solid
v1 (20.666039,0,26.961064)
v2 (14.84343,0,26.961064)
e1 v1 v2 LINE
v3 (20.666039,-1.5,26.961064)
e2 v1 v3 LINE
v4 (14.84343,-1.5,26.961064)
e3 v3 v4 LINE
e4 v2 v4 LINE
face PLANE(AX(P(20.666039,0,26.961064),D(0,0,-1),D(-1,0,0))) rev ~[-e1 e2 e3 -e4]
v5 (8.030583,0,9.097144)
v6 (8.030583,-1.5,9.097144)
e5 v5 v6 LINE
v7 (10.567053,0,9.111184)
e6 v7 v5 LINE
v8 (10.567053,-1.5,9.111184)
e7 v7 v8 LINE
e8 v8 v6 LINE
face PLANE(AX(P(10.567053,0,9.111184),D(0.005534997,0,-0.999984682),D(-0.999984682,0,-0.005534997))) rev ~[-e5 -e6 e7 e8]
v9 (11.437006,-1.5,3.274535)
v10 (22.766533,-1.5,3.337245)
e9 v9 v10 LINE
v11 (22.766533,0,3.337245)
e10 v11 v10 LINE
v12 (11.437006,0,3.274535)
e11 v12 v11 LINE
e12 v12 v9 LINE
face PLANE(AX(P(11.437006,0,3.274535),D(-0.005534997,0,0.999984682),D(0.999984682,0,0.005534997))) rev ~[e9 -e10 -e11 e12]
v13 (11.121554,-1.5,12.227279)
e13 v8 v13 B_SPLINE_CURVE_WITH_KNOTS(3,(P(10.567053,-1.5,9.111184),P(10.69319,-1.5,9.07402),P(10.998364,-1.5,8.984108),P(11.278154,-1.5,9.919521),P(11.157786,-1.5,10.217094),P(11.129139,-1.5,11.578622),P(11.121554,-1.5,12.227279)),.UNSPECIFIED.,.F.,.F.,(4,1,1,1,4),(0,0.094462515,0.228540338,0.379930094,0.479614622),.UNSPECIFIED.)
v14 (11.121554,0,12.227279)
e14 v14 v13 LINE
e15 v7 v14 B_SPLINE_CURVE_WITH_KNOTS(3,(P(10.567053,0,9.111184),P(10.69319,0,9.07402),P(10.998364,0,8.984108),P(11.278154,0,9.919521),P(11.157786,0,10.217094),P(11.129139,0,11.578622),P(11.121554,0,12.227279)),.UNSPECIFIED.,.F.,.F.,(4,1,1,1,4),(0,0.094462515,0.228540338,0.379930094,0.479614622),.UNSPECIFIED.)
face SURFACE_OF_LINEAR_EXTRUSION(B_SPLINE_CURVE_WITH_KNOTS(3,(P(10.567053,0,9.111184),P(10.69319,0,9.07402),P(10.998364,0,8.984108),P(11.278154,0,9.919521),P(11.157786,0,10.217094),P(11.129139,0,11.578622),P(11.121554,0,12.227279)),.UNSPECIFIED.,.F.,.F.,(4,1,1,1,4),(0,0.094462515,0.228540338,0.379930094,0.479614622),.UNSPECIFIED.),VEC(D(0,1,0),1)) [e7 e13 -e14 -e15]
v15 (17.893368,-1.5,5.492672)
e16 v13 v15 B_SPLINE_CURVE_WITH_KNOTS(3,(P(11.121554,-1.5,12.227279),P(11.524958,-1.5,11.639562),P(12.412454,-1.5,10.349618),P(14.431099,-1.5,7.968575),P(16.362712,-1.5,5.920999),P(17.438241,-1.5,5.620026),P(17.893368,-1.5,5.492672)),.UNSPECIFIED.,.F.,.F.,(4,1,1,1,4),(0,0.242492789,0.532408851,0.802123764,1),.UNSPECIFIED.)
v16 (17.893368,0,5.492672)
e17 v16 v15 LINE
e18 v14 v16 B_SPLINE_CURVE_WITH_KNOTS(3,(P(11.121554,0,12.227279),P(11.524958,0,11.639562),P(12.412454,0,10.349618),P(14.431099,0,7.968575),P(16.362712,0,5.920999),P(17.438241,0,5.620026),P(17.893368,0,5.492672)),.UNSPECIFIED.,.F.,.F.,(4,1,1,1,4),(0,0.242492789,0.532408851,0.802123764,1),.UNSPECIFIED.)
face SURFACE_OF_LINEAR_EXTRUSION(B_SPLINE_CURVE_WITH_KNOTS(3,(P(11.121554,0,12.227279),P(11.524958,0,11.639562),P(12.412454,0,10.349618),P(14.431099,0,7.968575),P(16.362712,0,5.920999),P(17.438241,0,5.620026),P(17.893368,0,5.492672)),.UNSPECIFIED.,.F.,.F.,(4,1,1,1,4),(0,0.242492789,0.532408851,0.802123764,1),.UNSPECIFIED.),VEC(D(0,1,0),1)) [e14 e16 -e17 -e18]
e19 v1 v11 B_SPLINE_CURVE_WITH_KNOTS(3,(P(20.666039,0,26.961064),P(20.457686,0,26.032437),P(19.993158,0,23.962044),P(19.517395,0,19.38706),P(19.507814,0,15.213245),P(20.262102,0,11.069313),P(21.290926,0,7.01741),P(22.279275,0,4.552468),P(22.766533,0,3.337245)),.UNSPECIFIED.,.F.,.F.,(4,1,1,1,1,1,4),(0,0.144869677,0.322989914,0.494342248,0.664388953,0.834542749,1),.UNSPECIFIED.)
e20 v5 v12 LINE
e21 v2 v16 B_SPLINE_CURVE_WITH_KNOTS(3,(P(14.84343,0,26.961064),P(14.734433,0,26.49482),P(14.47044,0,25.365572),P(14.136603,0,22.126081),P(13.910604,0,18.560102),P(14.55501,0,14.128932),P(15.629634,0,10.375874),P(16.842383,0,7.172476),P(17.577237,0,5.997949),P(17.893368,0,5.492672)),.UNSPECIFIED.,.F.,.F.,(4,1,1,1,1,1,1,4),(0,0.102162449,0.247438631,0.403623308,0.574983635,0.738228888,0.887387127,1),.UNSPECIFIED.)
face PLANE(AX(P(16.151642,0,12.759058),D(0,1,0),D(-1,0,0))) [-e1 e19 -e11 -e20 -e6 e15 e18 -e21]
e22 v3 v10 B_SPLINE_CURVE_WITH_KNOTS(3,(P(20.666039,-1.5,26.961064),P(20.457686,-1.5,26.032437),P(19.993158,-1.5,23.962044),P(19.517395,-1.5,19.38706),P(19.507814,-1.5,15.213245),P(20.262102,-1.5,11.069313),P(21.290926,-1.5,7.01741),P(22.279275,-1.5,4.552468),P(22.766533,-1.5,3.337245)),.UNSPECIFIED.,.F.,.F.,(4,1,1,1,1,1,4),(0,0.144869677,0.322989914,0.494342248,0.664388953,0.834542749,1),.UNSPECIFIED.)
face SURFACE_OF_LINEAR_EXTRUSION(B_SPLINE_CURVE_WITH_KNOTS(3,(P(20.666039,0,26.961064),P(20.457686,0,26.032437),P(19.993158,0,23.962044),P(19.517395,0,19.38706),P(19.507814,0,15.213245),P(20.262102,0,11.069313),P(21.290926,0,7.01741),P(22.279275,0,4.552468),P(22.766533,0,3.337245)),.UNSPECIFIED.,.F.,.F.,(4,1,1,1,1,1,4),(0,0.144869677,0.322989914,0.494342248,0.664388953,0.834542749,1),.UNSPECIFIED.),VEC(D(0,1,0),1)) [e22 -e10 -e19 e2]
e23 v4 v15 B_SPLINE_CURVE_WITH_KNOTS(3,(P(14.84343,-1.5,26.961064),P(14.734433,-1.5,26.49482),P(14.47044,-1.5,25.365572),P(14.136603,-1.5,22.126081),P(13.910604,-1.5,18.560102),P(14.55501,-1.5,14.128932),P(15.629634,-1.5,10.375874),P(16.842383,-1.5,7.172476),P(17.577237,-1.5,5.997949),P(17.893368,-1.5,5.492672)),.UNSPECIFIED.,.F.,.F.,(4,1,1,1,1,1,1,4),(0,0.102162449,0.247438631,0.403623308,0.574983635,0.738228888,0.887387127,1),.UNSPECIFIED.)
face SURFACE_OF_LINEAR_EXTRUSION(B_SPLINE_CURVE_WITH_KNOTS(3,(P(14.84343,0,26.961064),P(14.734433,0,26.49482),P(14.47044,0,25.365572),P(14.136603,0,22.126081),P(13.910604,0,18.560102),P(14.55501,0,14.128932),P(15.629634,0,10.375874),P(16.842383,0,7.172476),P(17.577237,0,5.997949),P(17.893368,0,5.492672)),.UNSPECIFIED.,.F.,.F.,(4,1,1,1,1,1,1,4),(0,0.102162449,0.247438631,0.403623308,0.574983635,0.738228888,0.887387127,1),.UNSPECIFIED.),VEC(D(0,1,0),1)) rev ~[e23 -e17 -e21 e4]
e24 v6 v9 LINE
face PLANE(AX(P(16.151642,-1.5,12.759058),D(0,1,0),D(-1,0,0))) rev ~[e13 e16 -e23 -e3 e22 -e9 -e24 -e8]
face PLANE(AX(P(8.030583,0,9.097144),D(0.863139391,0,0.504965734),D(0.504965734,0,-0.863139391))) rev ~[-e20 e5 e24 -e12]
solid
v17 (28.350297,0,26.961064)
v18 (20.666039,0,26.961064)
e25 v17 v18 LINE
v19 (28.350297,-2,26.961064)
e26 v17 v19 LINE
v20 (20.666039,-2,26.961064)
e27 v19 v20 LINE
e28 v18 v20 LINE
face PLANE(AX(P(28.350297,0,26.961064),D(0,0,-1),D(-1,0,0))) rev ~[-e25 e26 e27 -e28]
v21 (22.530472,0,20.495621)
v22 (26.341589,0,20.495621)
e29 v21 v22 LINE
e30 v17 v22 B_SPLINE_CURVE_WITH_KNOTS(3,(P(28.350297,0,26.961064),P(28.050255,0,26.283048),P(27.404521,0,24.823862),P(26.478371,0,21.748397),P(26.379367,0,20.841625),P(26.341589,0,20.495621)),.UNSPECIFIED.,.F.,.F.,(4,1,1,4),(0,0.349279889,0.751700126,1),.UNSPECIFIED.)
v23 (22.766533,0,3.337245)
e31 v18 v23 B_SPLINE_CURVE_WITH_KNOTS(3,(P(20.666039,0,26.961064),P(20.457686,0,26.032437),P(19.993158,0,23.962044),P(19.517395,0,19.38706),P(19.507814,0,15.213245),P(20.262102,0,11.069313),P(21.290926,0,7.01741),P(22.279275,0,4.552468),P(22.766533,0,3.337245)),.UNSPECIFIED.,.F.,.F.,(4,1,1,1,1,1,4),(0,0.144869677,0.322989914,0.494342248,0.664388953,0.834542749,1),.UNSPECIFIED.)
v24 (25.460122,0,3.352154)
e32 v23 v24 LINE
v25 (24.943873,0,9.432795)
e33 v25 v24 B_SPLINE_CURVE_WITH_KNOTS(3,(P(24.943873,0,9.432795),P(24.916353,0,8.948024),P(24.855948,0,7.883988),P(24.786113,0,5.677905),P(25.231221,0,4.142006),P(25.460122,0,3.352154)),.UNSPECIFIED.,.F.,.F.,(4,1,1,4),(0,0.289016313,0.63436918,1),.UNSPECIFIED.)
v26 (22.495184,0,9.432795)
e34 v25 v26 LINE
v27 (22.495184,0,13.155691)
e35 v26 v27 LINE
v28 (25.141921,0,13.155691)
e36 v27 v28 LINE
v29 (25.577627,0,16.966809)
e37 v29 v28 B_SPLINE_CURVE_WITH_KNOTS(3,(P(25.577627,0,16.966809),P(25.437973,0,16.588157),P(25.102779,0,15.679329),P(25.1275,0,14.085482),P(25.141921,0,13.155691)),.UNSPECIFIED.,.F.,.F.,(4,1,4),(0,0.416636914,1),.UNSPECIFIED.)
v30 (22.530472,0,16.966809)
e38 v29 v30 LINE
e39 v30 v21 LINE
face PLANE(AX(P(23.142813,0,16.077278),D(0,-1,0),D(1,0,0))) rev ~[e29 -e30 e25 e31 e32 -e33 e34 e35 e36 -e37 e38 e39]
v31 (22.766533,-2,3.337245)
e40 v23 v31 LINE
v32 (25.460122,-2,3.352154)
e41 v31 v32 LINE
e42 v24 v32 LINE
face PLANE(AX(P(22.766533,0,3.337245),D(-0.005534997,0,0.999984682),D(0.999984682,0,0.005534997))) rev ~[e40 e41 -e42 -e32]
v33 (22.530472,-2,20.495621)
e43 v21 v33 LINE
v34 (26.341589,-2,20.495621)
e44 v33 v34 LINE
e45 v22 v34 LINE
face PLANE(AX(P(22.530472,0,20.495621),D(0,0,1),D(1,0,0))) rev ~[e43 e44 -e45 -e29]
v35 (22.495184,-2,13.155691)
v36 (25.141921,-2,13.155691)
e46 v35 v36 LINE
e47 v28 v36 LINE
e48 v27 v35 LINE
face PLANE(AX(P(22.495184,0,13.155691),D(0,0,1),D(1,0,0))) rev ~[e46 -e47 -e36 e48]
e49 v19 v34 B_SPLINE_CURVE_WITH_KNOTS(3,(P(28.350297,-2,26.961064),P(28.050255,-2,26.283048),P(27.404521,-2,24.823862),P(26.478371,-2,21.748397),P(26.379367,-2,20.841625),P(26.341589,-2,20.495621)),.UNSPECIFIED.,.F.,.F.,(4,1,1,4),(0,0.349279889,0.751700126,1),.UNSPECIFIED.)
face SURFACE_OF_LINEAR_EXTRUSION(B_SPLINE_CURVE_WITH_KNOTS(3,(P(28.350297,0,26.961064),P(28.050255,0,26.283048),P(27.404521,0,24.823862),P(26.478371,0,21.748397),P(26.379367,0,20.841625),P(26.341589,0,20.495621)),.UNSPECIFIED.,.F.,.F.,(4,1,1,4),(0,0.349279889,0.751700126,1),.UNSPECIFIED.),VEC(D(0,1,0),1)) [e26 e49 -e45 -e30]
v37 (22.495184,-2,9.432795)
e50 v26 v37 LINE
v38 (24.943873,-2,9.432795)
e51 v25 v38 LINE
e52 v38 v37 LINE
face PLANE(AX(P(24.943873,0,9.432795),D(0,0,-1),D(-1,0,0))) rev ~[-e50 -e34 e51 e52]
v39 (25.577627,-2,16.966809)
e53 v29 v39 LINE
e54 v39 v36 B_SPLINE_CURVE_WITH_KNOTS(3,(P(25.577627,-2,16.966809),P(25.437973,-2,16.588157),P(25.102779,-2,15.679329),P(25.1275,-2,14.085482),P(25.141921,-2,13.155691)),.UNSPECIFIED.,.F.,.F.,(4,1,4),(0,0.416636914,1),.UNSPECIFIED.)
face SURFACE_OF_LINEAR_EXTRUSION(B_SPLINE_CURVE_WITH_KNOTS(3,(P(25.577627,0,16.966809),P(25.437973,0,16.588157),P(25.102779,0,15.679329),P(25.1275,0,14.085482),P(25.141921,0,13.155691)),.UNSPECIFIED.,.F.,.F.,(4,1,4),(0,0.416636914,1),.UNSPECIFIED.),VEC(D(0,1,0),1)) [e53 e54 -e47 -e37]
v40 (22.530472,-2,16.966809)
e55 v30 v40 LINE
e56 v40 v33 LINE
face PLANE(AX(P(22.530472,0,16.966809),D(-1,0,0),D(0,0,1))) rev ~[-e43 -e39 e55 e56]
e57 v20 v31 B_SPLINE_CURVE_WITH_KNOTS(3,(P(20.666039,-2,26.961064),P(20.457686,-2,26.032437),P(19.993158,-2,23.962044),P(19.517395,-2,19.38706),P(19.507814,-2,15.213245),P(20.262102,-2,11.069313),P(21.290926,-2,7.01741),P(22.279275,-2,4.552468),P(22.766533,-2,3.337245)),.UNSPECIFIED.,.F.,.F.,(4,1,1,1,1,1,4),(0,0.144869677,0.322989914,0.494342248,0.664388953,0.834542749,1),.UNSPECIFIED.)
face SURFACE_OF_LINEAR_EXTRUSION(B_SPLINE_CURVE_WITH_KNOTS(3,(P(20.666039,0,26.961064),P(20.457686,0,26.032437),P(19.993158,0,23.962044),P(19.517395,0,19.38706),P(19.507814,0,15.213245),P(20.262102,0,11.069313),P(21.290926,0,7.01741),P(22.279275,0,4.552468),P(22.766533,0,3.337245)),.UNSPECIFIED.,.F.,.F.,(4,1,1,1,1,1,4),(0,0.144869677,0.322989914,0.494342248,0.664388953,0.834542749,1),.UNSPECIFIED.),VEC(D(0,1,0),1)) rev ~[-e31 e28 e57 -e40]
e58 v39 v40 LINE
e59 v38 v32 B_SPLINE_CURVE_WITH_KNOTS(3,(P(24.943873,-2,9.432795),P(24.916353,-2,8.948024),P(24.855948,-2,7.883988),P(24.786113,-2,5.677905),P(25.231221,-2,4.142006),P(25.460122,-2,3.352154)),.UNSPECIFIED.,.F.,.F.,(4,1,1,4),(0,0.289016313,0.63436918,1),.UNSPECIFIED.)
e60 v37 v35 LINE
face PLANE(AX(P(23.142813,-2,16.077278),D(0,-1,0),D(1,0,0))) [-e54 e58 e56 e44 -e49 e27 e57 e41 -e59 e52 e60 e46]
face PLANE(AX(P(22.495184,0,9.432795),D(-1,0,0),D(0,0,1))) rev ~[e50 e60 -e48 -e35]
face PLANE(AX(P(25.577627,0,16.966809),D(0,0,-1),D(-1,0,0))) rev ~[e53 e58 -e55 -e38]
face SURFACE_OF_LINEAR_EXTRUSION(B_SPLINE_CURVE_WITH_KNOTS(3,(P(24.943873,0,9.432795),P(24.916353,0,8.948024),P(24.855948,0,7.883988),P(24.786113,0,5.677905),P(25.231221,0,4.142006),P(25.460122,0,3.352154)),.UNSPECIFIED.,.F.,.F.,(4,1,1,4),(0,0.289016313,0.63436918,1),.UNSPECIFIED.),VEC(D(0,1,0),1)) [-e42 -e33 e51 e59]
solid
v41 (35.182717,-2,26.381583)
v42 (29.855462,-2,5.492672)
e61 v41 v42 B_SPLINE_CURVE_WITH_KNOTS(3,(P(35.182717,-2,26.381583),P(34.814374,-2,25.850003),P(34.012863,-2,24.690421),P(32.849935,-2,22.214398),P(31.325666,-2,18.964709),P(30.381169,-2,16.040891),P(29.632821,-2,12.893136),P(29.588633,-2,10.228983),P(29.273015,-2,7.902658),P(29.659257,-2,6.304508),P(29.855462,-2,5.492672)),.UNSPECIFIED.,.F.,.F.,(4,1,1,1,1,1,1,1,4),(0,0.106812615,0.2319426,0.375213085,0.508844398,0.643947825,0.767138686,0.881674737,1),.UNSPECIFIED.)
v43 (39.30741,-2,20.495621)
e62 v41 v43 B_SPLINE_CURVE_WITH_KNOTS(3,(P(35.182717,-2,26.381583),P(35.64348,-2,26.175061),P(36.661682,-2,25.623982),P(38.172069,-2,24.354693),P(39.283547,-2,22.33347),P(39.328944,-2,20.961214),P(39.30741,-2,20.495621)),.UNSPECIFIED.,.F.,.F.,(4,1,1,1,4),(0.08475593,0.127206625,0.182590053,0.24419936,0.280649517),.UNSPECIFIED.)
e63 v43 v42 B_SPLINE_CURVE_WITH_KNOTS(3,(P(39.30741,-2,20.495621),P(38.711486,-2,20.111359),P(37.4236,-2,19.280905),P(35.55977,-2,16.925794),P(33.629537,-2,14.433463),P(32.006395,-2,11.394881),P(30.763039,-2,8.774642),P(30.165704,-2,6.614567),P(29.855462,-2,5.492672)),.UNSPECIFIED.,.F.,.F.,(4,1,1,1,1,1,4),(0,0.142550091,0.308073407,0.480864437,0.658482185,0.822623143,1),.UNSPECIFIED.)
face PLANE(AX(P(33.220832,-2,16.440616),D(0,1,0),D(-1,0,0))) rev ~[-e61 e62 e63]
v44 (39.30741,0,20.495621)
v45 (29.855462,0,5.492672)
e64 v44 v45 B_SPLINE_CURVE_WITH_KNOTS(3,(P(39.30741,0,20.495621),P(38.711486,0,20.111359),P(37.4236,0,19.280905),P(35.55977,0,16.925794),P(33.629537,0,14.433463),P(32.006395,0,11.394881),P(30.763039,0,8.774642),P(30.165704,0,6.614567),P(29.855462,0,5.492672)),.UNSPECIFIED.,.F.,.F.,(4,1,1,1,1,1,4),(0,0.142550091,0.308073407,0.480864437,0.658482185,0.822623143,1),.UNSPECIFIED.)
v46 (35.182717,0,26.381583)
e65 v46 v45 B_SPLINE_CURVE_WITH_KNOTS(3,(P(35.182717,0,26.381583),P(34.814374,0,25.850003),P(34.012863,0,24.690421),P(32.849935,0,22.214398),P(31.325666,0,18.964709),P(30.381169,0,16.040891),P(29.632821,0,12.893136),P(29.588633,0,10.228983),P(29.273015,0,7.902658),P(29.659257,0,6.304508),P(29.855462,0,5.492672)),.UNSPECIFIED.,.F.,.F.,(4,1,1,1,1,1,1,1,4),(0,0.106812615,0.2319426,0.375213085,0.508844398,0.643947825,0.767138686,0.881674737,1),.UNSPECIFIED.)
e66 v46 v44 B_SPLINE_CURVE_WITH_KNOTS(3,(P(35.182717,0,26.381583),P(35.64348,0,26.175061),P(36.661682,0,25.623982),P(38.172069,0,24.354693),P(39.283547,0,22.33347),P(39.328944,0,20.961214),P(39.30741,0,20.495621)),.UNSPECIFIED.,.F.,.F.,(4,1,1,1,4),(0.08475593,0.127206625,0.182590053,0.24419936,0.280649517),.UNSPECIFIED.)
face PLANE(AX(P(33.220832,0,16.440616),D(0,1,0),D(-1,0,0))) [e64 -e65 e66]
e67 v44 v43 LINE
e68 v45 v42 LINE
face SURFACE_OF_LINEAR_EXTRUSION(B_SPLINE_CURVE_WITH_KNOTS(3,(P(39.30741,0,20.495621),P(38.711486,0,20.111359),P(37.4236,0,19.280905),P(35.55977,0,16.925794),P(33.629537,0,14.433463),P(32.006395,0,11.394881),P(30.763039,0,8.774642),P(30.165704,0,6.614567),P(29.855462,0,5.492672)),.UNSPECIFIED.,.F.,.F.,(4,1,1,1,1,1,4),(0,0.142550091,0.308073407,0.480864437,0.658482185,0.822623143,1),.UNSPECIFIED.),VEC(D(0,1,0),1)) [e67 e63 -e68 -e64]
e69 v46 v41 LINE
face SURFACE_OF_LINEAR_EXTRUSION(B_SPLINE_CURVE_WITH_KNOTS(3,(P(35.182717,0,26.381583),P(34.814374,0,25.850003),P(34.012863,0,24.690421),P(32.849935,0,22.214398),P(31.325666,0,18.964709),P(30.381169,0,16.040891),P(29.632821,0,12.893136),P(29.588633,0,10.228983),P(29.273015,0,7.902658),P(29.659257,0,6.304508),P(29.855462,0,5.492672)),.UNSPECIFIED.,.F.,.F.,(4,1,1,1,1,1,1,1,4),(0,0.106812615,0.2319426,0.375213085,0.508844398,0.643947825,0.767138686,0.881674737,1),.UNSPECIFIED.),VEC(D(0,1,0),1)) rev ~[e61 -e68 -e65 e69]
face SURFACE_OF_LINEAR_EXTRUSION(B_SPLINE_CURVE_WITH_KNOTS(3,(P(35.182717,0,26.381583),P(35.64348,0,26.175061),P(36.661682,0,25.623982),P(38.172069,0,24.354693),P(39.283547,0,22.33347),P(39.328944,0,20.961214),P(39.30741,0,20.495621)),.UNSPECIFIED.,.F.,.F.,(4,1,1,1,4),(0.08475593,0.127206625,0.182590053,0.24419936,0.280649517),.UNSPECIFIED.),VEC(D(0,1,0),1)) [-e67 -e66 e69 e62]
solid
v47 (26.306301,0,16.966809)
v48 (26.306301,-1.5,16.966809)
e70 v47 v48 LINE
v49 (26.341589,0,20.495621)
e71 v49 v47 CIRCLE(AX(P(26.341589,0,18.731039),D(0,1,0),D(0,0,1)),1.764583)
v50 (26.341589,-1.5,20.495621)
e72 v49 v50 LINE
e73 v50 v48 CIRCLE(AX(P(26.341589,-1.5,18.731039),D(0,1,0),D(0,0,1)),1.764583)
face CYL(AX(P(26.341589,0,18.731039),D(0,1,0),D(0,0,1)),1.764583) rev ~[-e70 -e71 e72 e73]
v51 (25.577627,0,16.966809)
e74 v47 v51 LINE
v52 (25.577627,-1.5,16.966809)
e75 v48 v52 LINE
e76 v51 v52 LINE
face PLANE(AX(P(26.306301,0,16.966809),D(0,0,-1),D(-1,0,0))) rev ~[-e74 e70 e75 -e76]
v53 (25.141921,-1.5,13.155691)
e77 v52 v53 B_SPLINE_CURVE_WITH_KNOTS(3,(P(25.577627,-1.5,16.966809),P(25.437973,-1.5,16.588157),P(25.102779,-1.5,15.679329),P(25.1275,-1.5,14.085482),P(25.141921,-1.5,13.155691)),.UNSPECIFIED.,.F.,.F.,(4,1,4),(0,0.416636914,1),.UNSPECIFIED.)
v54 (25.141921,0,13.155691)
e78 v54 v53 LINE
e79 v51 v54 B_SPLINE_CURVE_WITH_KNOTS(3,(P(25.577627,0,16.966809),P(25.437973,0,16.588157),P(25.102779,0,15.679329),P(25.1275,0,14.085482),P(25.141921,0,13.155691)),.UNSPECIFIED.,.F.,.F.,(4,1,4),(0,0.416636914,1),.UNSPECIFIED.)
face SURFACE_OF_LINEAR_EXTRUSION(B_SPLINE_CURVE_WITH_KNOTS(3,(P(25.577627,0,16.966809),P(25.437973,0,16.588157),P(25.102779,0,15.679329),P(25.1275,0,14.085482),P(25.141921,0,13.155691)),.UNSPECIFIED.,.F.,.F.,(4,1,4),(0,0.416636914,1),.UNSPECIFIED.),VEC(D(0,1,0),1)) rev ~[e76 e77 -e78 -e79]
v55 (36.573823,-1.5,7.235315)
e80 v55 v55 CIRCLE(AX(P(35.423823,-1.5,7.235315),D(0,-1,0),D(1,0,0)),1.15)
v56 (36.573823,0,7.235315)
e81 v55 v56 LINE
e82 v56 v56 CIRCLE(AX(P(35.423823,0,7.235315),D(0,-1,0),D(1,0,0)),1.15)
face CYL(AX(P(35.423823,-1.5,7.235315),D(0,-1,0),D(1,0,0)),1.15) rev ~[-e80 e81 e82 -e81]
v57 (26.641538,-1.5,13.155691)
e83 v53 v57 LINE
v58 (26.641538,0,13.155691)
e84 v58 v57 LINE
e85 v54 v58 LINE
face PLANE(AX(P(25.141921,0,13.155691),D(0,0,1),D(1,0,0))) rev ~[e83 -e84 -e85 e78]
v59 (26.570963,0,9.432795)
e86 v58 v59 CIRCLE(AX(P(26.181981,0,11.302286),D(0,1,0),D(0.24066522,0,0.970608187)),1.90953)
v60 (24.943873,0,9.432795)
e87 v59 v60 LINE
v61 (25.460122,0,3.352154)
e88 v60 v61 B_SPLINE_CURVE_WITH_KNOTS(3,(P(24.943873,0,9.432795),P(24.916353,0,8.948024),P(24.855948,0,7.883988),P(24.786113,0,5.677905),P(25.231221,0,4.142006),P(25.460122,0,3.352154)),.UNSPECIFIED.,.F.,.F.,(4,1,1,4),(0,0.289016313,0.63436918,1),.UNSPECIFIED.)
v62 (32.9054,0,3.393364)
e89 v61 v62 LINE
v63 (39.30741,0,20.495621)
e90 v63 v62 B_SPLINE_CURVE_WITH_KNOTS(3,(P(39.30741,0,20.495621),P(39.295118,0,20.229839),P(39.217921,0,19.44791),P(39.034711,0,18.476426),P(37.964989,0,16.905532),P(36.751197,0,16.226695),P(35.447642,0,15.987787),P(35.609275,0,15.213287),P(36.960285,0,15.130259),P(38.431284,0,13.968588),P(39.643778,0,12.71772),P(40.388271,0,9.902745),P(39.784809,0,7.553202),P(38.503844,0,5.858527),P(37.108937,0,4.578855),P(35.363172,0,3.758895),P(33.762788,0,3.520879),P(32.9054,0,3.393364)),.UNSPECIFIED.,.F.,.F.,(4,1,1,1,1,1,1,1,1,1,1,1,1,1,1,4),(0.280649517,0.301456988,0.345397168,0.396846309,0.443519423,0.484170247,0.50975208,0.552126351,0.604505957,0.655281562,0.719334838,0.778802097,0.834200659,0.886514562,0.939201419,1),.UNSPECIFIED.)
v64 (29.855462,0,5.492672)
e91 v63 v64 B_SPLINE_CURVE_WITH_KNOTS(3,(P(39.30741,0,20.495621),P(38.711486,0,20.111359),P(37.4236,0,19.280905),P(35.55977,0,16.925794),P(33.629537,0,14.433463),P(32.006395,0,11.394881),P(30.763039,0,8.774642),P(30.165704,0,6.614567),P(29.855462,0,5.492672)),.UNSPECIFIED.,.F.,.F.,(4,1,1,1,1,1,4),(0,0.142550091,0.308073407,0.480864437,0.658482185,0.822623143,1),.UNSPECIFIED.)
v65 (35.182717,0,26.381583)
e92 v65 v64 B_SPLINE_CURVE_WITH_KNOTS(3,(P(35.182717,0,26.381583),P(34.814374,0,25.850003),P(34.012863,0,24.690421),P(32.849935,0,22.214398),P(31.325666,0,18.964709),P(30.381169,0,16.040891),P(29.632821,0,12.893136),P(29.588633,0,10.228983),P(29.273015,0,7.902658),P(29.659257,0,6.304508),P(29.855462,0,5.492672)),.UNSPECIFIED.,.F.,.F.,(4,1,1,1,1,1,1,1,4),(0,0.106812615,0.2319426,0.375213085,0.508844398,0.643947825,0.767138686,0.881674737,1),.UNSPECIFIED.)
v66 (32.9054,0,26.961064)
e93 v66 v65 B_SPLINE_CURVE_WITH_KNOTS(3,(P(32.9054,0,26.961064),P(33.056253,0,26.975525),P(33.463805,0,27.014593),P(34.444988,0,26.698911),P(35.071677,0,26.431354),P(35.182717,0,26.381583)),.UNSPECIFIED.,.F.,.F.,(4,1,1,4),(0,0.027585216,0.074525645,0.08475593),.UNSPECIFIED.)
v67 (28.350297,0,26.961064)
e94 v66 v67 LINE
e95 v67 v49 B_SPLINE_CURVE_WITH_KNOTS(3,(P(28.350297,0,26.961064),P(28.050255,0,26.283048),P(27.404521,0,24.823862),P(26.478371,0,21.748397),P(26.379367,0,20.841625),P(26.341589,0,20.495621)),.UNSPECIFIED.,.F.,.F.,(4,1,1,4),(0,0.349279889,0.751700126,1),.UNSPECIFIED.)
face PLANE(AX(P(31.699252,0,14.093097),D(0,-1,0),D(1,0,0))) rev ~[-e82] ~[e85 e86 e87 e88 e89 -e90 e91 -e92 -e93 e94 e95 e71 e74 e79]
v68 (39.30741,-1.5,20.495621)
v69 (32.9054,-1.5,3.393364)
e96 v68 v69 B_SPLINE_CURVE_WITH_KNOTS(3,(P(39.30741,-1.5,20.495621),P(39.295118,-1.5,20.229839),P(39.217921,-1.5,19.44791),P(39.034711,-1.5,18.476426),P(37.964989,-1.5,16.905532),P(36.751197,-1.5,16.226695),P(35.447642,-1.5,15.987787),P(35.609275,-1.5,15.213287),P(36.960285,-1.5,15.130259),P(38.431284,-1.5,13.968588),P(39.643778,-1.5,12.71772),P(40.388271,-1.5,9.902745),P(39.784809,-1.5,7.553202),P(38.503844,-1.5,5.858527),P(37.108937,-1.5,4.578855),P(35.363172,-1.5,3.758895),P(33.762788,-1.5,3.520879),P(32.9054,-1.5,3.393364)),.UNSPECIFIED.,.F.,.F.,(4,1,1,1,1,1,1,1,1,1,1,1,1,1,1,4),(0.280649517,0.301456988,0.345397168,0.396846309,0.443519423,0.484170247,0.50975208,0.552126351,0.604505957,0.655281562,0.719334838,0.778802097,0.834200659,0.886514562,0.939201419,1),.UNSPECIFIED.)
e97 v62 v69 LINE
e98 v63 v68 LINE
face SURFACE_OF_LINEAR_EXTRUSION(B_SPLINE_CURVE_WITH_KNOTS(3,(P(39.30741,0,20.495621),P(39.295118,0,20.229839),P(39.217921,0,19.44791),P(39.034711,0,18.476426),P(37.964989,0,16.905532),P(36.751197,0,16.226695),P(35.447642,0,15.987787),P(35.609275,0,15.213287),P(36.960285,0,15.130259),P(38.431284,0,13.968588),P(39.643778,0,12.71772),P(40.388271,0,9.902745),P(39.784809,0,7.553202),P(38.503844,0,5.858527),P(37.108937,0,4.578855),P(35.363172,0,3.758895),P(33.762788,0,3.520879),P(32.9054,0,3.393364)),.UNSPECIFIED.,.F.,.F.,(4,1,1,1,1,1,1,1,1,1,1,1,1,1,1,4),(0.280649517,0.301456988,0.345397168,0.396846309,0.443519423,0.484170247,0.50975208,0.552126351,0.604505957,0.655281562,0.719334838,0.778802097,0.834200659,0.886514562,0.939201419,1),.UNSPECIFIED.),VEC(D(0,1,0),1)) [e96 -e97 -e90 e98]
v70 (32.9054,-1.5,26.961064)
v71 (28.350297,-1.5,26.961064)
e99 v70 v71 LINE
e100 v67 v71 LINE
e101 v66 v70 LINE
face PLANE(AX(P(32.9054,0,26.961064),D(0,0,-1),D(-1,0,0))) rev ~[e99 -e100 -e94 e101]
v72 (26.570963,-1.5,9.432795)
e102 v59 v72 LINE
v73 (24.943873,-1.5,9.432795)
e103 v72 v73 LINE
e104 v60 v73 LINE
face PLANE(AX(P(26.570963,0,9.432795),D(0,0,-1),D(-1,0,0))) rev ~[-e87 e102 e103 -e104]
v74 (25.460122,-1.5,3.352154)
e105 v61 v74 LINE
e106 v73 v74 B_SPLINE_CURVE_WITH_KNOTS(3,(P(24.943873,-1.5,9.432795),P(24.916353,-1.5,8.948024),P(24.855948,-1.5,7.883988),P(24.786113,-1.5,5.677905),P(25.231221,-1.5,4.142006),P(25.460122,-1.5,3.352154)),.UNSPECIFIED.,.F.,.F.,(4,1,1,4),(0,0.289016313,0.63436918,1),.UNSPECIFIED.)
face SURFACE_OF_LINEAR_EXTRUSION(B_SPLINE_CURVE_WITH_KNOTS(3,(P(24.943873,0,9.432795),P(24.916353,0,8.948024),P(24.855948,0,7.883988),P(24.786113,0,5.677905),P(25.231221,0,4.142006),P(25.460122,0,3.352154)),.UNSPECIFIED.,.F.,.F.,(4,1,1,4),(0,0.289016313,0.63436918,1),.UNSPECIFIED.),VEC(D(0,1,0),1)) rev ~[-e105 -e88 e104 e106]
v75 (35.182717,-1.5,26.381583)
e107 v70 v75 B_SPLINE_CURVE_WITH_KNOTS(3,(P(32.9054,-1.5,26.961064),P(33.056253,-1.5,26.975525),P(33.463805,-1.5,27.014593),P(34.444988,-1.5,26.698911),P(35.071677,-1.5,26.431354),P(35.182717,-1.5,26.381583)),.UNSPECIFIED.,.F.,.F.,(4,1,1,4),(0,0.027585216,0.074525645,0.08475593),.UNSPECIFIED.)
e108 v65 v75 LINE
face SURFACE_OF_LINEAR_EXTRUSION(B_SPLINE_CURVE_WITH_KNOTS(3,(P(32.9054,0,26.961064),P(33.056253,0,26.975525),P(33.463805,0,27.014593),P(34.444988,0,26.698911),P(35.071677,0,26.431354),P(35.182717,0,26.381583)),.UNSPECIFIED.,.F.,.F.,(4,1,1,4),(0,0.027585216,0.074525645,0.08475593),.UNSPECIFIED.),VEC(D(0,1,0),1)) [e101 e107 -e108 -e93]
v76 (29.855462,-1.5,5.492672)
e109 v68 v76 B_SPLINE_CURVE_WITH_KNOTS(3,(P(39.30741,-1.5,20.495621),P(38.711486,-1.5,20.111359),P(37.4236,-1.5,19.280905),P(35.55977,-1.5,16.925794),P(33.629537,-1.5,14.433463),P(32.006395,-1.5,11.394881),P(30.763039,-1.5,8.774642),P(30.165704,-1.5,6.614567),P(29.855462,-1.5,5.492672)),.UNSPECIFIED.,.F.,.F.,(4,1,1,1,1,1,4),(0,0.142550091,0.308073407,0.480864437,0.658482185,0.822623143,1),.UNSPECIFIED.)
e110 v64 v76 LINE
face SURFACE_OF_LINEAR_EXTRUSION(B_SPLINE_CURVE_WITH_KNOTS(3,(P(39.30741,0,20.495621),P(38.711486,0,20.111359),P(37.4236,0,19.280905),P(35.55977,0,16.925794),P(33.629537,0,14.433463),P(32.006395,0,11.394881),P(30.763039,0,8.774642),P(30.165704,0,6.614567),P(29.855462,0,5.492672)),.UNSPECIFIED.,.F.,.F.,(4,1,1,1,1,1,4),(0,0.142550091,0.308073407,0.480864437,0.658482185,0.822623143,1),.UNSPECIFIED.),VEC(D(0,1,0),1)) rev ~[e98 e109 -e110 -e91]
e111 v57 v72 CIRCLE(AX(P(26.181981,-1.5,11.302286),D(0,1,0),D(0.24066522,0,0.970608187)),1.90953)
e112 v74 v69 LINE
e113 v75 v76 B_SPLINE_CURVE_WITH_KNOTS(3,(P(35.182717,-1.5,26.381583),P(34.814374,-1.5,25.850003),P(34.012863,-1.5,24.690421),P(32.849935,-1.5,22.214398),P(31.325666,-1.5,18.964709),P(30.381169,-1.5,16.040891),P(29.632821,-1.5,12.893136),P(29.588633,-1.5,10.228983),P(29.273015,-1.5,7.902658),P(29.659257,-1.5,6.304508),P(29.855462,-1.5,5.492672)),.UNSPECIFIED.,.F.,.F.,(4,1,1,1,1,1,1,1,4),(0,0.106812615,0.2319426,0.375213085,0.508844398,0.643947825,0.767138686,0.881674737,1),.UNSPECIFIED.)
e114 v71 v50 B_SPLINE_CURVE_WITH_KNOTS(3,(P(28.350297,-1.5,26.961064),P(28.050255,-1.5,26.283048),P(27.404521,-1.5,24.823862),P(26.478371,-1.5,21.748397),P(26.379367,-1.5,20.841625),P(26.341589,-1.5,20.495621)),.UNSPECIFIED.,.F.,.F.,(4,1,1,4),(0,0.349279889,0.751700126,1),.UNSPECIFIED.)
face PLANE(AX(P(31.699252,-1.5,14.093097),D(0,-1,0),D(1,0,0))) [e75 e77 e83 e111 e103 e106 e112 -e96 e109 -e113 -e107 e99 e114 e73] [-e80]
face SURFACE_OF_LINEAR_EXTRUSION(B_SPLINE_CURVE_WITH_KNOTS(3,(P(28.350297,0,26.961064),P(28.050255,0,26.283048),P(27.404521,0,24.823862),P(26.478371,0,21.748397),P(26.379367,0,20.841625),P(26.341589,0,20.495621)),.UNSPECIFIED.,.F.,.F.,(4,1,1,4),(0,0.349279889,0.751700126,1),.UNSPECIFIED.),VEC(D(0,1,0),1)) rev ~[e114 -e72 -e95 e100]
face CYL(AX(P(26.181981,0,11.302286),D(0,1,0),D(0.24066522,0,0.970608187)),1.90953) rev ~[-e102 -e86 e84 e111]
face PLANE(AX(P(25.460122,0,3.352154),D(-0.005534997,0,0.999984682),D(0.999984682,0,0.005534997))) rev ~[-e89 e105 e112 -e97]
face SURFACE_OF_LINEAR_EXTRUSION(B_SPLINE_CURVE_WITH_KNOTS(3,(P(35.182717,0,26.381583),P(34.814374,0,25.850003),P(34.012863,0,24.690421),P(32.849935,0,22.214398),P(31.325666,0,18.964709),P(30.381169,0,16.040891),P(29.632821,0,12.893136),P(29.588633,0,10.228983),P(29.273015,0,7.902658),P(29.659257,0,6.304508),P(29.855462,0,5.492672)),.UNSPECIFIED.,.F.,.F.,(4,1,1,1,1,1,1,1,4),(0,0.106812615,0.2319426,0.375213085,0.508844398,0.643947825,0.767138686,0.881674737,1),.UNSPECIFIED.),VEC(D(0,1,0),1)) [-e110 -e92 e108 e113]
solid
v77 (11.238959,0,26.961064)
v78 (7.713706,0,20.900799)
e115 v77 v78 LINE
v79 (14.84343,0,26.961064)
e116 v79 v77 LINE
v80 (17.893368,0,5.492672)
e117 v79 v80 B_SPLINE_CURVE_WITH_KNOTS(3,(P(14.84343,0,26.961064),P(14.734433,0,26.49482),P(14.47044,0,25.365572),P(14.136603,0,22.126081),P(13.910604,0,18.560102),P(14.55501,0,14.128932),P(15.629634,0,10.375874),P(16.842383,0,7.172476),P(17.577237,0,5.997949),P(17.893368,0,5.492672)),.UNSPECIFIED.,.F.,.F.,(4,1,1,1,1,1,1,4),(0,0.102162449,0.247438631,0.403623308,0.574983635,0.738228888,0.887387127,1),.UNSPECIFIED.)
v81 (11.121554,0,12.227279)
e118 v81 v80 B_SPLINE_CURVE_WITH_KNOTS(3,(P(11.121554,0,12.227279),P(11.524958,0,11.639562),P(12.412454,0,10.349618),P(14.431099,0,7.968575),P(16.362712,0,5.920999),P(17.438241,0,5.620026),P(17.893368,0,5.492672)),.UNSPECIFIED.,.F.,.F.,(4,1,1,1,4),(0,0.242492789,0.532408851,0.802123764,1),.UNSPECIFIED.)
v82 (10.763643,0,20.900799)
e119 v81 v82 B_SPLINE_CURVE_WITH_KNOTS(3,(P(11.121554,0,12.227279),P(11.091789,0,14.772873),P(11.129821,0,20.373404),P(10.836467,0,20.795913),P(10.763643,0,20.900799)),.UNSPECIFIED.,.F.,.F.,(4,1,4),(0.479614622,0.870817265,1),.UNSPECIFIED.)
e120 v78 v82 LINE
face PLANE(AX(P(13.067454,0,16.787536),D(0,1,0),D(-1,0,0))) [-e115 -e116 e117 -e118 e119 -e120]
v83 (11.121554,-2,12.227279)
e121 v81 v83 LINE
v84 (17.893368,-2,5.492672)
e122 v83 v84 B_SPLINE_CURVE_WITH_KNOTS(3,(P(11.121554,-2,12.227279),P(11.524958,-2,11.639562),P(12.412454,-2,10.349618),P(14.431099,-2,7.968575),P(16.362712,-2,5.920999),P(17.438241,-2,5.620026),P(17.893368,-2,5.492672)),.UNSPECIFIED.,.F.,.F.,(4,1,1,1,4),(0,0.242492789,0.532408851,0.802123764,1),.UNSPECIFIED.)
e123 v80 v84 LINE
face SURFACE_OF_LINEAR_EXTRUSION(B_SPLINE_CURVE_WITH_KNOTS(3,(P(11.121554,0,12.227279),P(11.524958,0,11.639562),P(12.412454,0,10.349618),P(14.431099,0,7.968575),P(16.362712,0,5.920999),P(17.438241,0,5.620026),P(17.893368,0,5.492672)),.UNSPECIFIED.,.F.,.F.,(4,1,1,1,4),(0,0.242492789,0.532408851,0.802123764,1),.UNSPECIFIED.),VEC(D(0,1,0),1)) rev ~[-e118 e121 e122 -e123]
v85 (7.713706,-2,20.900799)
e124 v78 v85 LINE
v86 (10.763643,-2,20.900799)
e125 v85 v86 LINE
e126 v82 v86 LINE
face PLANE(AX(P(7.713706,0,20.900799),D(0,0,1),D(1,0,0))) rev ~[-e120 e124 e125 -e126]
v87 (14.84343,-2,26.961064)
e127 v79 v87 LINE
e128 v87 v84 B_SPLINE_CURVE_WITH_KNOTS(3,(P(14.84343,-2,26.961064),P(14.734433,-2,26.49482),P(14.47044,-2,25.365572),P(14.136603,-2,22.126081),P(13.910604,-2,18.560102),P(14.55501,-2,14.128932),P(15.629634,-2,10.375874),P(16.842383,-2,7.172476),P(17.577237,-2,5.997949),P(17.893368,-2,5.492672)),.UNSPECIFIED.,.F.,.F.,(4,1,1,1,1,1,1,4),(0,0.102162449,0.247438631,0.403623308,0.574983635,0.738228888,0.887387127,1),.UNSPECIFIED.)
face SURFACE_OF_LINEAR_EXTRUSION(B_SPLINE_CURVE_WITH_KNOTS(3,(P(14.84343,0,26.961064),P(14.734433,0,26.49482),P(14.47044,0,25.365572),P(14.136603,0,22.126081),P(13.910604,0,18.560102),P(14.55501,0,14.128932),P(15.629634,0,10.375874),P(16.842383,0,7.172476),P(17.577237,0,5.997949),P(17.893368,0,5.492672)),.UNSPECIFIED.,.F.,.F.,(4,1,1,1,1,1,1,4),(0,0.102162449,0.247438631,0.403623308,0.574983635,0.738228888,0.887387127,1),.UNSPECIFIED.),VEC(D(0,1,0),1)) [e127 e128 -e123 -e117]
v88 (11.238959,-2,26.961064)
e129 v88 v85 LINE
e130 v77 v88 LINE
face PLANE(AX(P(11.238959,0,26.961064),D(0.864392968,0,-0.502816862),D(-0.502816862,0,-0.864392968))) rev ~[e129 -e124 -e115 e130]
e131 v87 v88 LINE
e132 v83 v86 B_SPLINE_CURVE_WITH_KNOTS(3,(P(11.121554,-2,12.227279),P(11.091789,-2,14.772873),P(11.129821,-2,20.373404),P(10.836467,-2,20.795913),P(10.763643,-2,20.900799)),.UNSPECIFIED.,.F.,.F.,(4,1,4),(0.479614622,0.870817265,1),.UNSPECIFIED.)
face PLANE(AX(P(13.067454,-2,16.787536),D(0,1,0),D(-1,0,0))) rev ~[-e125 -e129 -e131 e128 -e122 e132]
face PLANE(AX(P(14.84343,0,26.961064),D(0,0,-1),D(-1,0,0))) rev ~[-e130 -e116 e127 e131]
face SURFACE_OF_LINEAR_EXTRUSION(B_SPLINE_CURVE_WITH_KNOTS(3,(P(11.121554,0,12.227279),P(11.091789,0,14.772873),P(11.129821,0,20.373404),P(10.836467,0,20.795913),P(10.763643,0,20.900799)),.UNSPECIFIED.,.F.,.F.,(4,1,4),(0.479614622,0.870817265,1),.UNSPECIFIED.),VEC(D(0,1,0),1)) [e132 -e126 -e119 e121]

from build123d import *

# Parameters (mm, degrees)
F1_DEPTH = 1.5
F2_DEPTH = 2
F3_R     = 1.15
F4_DEPTH = 25


with BuildPart() as f1:
    # F0 (on Front) → F1 (new body)
    with BuildSketch(Plane.XZ):
        with BuildLine():
            add(Edge.make_bspline(
                [(20.6660386175, 26.9610639662), (20.4576856509, 26.0324368396), (19.9931584423, 23.9620436311), (19.5173953893, 19.3870598202), (19.5078143453, 15.2132446042), (20.2621023743, 11.0693133562), (21.2909258667, 7.0174099957), (22.2792745883, 4.5524684686), (22.7665334657, 3.3372449192)],
                knots=[0, 0, 0, 0, 0.144869677, 0.3229899136, 0.4943422483, 0.6643889527, 0.8345427493, 1, 1, 1, 1], degree=3))
            Line((20.6660386175, 26.9610639662), (14.8434303701, 26.9610639662))
            add(Edge.make_bspline(
                [(14.8434303701, 26.9610639662), (14.7344330597, 26.4948199573), (14.4704403158, 25.3655715864), (14.1366032002, 22.1260809688), (13.910603749, 18.5601021745), (14.5550095001, 14.1289323907), (15.6296335083, 10.3758735811), (16.8423833401, 7.1724763104), (17.5772372142, 5.9979488297), (17.8933683783, 5.4926718585)],
                knots=[0, 0, 0, 0, 0.1021624491, 0.247438631, 0.4036233083, 0.5749836352, 0.7382288881, 0.8873871266, 1, 1, 1, 1], degree=3))
            add(Edge.make_bspline(
                [(11.1215539734, 12.2272790058), (11.5249575236, 11.6395620371), (12.412453889, 10.3496180148), (14.431098963, 7.968574755), (16.3627124278, 5.9209986296), (17.4382411729, 5.6200255878), (17.8933683783, 5.4926718585)],
                knots=[0, 0, 0, 0, 0.242492789, 0.5324088513, 0.8021237637, 1, 1, 1, 1], degree=3))
            add(Edge.make_bspline(
                [(10.5670526858, 9.1111835735), (10.6931901201, 9.0740202497), (10.9983639943, 8.9841081981), (11.2781543186, 9.919520696), (11.157785675, 10.2170936868), (11.1291386465, 11.5786221116), (11.1215539734, 12.2272790058)],
                knots=[0, 0, 0, 0, 0.0944625155, 0.2285403376, 0.3799300941, 0.4796146215, 0.4796146215, 0.4796146215, 0.4796146215], degree=3))
            Line((10.5670526858, 9.1111835735), (8.0305831507, 9.0971440077))
            Line((8.0305831507, 9.0971440077), (11.4370062947, 3.2745350618))
            Line((11.4370062947, 3.2745350618), (22.7665334657, 3.3372449192))
        make_face()
    extrude(amount=F1_DEPTH)


with BuildPart() as f1b:
    # F0 (on Front) → F1, piece 2 (new body)
    with BuildSketch(Plane.XZ):
        with BuildLine():
            add(Edge.make_bspline(
                [(28.3502973616, 26.9610639662), (28.0502551274, 26.2830481717), (27.4045214551, 24.8238615013), (26.478371341, 21.7483968495), (26.3793669662, 20.8416248794), (26.3415891673, 20.4956214875)],
                knots=[0, 0, 0, 0, 0.3492798891, 0.7517001264, 1, 1, 1, 1], degree=3))
            ThreePointArc((26.3415891673, 20.4956214875), (28.1060838339, 18.7133938116), (26.3063013549, 16.9668085873))
            Line((26.3063013549, 16.9668085873), (25.577627122, 16.9668085873))
            add(Edge.make_bspline(
                [(25.577627122, 16.9668085873), (25.4379730337, 16.588157163), (25.1027792876, 15.6793288483), (25.1274998378, 14.0854824684), (25.1419208944, 13.1556913257)],
                knots=[0, 0, 0, 0, 0.4166369141, 1, 1, 1, 1], degree=3))
            Line((25.1419208944, 13.1556913257), (26.6415383667, 13.1556913257))
            ThreePointArc((26.6415383667, 13.1556913257), (28.0911678774, 11.266093081), (26.570962742, 9.4327945262))
            Line((26.570962742, 9.4327945262), (24.9438732862, 9.4327945262))
            add(Edge.make_bspline(
                [(24.9438732862, 9.4327945262), (24.9163529568, 8.9480237368), (24.8559478929, 7.8839881296), (24.7861131689, 5.6779053674), (25.2312208373, 4.14200634), (25.4601221254, 3.3521541522)],
                knots=[0, 0, 0, 0, 0.2890163132, 0.6343691802, 1, 1, 1, 1], degree=3))
            Line((25.4601221254, 3.3521541522), (32.9053997993, 3.3933643717))
            add(Edge.make_bspline(
                [(39.3074102919, 20.4956214875), (39.2951179166, 20.2298391722), (39.2179207498, 19.4479095816), (39.0347112987, 18.4764256834), (37.9649892722, 16.9055315742), (36.7511969896, 16.2266947713), (35.447641843, 15.9877866604), (35.6092749957, 15.2132865459), (36.9602853616, 15.1302585806), (38.4312837701, 13.9685881697), (39.6437777031, 12.7177203077), (40.3882705232, 9.9027454506), (39.7848092027, 7.5532015194), (38.5038444292, 5.8585270129), (37.1089367796, 4.5788545157), (35.3631722184, 3.7588948786), (33.7627880829, 3.5208788525), (32.9053997993, 3.3933643717)],
                knots=[0.2806495168, 0.2806495168, 0.2806495168, 0.2806495168, 0.3014569879, 0.3453971681, 0.396846309, 0.4435194229, 0.4841702474, 0.5097520803, 0.5521263511, 0.6045059572, 0.6552815621, 0.7193348379, 0.7788020968, 0.8342006587, 0.8865145622, 0.9392014189, 1, 1, 1, 1], degree=3))
            add(Edge.make_bspline(
                [(39.3074102919, 20.4956214875), (38.7114864845, 20.1113585687), (37.4236004088, 19.2809053184), (35.5597699096, 16.9257937336), (33.6295365482, 14.4334626917), (32.0063954632, 11.3948808305), (30.7630387226, 8.7746419521), (30.1657042198, 6.6145672452), (29.8554617912, 5.4926718585)],
                knots=[0, 0, 0, 0, 0.1425500914, 0.3080734074, 0.4808644374, 0.6584821849, 0.8226231435, 1, 1, 1, 1], degree=3))
            add(Edge.make_bspline(
                [(35.1827172278, 26.3815832659), (34.814374166, 25.8500031522), (34.0128628658, 24.6904209121), (32.849935442, 22.2143984263), (31.3256658929, 18.9647087573), (30.3811686552, 16.040891122), (29.6328212541, 12.8931358044), (29.588632846, 10.2289829689), (29.2730146106, 7.9026581045), (29.6592567007, 6.3045083419), (29.8554617912, 5.4926718585)],
                knots=[0, 0, 0, 0, 0.1068126147, 0.2319426002, 0.3752130849, 0.5088443981, 0.6439478253, 0.767138686, 0.881674737, 1, 1, 1, 1], degree=3))
            add(Edge.make_bspline(
                [(32.9053997993, 26.9610639662), (33.05625291, 26.9755248546), (33.4638054683, 27.014593138), (34.4449882919, 26.6989109985), (35.071676978, 26.4313536304), (35.1827172278, 26.3815832659)],
                knots=[0, 0, 0, 0, 0.0275852161, 0.074525645, 0.08475593, 0.08475593, 0.08475593, 0.08475593], degree=3))
            Line((32.9053997993, 26.9610639662), (28.3502973616, 26.9610639662))
        make_face()
    extrude(amount=F1_DEPTH)

    # F3 (on face) → F4 (cut)
    with BuildSketch(Plane.XZ.offset(1.5)):
        with Locations((35.423822701, 7.2353151627)):
            Circle(F3_R)
    extrude(amount=-F4_DEPTH, mode=Mode.SUBTRACT)


with BuildPart() as f2:
    # F0 (on Front) → F2 (new body)
    with BuildSketch(Plane.XZ):
        with BuildLine():
            add(Edge.make_bspline(
                [(14.8434303701, 26.9610639662), (14.7344330597, 26.4948199573), (14.4704403158, 25.3655715864), (14.1366032002, 22.1260809688), (13.910603749, 18.5601021745), (14.5550095001, 14.1289323907), (15.6296335083, 10.3758735811), (16.8423833401, 7.1724763104), (17.5772372142, 5.9979488297), (17.8933683783, 5.4926718585)],
                knots=[0, 0, 0, 0, 0.1021624491, 0.247438631, 0.4036233083, 0.5749836352, 0.7382288881, 0.8873871266, 1, 1, 1, 1], degree=3))
            Line((14.8434303701, 26.9610639662), (11.2389586866, 26.9610639662))
            Line((11.2389586866, 26.9610639662), (7.7137062326, 20.9007989615))
            Line((7.7137062326, 20.9007989615), (10.7636433095, 20.9007989615))
            add(Edge.make_bspline(
                [(11.1215539734, 12.2272790058), (11.09178863, 14.772872571), (11.1298205182, 20.3734036888), (10.8364667323, 20.7959133268), (10.7636433095, 20.9007989615)],
                knots=[0.4796146215, 0.4796146215, 0.4796146215, 0.4796146215, 0.8708172647, 1, 1, 1, 1], degree=3))
            add(Edge.make_bspline(
                [(11.1215539734, 12.2272790058), (11.5249575236, 11.6395620371), (12.412453889, 10.3496180148), (14.431098963, 7.968574755), (16.3627124278, 5.9209986296), (17.4382411729, 5.6200255878), (17.8933683783, 5.4926718585)],
                knots=[0, 0, 0, 0, 0.242492789, 0.5324088513, 0.8021237637, 1, 1, 1, 1], degree=3))
        make_face()
    extrude(amount=F2_DEPTH)


with BuildPart() as f2b:
    # F0 (on Front) → F2, piece 2 (new body)
    with BuildSketch(Plane.XZ):
        with BuildLine():
            Line((22.5304719056, 16.9668085873), (22.5304719056, 20.4956214875))
            Line((22.5304719056, 20.4956214875), (26.3415891673, 20.4956214875))
            add(Edge.make_bspline(
                [(28.3502973616, 26.9610639662), (28.0502551274, 26.2830481717), (27.4045214551, 24.8238615013), (26.478371341, 21.7483968495), (26.3793669662, 20.8416248794), (26.3415891673, 20.4956214875)],
                knots=[0, 0, 0, 0, 0.3492798891, 0.7517001264, 1, 1, 1, 1], degree=3))
            Line((28.3502973616, 26.9610639662), (20.6660386175, 26.9610639662))
            add(Edge.make_bspline(
                [(20.6660386175, 26.9610639662), (20.4576856509, 26.0324368396), (19.9931584423, 23.9620436311), (19.5173953893, 19.3870598202), (19.5078143453, 15.2132446042), (20.2621023743, 11.0693133562), (21.2909258667, 7.0174099957), (22.2792745883, 4.5524684686), (22.7665334657, 3.3372449192)],
                knots=[0, 0, 0, 0, 0.144869677, 0.3229899136, 0.4943422483, 0.6643889527, 0.8345427493, 1, 1, 1, 1], degree=3))
            Line((22.7665334657, 3.3372449192), (25.4601221254, 3.3521541522))
            add(Edge.make_bspline(
                [(24.9438732862, 9.4327945262), (24.9163529568, 8.9480237368), (24.8559478929, 7.8839881296), (24.7861131689, 5.6779053674), (25.2312208373, 4.14200634), (25.4601221254, 3.3521541522)],
                knots=[0, 0, 0, 0, 0.2890163132, 0.6343691802, 1, 1, 1, 1], degree=3))
            Line((24.9438732862, 9.4327945262), (22.4951840937, 9.4327945262))
            Line((22.4951840937, 9.4327945262), (22.4951840937, 13.1556913257))
            Line((22.4951840937, 13.1556913257), (25.1419208944, 13.1556913257))
            add(Edge.make_bspline(
                [(25.577627122, 16.9668085873), (25.4379730337, 16.588157163), (25.1027792876, 15.6793288483), (25.1274998378, 14.0854824684), (25.1419208944, 13.1556913257)],
                knots=[0, 0, 0, 0, 0.4166369141, 1, 1, 1, 1], degree=3))
            Line((25.577627122, 16.9668085873), (22.5304719056, 16.9668085873))
        make_face()
    extrude(amount=F2_DEPTH)


with BuildPart() as f2c:
    # F0 (on Front) → F2, piece 3 (new body)
    with BuildSketch(Plane.XZ):
        with BuildLine():
            add(Edge.make_bspline(
                [(35.1827172278, 26.3815832659), (35.6434801218, 26.1750605208), (36.6616822988, 25.6239816404), (38.1720693205, 24.354692801), (39.2835474939, 22.3334695919), (39.3289438558, 20.9612142086), (39.3074102919, 20.4956214875)],
                knots=[0.08475593, 0.08475593, 0.08475593, 0.08475593, 0.1272066245, 0.182590053, 0.2441993598, 0.2806495168, 0.2806495168, 0.2806495168, 0.2806495168], degree=3))
            add(Edge.make_bspline(
                [(35.1827172278, 26.3815832659), (34.814374166, 25.8500031522), (34.0128628658, 24.6904209121), (32.849935442, 22.2143984263), (31.3256658929, 18.9647087573), (30.3811686552, 16.040891122), (29.6328212541, 12.8931358044), (29.588632846, 10.2289829689), (29.2730146106, 7.9026581045), (29.6592567007, 6.3045083419), (29.8554617912, 5.4926718585)],
                knots=[0, 0, 0, 0, 0.1068126147, 0.2319426002, 0.3752130849, 0.5088443981, 0.6439478253, 0.767138686, 0.881674737, 1, 1, 1, 1], degree=3))
            add(Edge.make_bspline(
                [(39.3074102919, 20.4956214875), (38.7114864845, 20.1113585687), (37.4236004088, 19.2809053184), (35.5597699096, 16.9257937336), (33.6295365482, 14.4334626917), (32.0063954632, 11.3948808305), (30.7630387226, 8.7746419521), (30.1657042198, 6.6145672452), (29.8554617912, 5.4926718585)],
                knots=[0, 0, 0, 0, 0.1425500914, 0.3080734074, 0.4808644374, 0.6584821849, 0.8226231435, 1, 1, 1, 1], degree=3))
        make_face()
    extrude(amount=F2_DEPTH)


solid = Compound([f1.part, f1b.part, f2.part, f2b.part, f2c.part])
